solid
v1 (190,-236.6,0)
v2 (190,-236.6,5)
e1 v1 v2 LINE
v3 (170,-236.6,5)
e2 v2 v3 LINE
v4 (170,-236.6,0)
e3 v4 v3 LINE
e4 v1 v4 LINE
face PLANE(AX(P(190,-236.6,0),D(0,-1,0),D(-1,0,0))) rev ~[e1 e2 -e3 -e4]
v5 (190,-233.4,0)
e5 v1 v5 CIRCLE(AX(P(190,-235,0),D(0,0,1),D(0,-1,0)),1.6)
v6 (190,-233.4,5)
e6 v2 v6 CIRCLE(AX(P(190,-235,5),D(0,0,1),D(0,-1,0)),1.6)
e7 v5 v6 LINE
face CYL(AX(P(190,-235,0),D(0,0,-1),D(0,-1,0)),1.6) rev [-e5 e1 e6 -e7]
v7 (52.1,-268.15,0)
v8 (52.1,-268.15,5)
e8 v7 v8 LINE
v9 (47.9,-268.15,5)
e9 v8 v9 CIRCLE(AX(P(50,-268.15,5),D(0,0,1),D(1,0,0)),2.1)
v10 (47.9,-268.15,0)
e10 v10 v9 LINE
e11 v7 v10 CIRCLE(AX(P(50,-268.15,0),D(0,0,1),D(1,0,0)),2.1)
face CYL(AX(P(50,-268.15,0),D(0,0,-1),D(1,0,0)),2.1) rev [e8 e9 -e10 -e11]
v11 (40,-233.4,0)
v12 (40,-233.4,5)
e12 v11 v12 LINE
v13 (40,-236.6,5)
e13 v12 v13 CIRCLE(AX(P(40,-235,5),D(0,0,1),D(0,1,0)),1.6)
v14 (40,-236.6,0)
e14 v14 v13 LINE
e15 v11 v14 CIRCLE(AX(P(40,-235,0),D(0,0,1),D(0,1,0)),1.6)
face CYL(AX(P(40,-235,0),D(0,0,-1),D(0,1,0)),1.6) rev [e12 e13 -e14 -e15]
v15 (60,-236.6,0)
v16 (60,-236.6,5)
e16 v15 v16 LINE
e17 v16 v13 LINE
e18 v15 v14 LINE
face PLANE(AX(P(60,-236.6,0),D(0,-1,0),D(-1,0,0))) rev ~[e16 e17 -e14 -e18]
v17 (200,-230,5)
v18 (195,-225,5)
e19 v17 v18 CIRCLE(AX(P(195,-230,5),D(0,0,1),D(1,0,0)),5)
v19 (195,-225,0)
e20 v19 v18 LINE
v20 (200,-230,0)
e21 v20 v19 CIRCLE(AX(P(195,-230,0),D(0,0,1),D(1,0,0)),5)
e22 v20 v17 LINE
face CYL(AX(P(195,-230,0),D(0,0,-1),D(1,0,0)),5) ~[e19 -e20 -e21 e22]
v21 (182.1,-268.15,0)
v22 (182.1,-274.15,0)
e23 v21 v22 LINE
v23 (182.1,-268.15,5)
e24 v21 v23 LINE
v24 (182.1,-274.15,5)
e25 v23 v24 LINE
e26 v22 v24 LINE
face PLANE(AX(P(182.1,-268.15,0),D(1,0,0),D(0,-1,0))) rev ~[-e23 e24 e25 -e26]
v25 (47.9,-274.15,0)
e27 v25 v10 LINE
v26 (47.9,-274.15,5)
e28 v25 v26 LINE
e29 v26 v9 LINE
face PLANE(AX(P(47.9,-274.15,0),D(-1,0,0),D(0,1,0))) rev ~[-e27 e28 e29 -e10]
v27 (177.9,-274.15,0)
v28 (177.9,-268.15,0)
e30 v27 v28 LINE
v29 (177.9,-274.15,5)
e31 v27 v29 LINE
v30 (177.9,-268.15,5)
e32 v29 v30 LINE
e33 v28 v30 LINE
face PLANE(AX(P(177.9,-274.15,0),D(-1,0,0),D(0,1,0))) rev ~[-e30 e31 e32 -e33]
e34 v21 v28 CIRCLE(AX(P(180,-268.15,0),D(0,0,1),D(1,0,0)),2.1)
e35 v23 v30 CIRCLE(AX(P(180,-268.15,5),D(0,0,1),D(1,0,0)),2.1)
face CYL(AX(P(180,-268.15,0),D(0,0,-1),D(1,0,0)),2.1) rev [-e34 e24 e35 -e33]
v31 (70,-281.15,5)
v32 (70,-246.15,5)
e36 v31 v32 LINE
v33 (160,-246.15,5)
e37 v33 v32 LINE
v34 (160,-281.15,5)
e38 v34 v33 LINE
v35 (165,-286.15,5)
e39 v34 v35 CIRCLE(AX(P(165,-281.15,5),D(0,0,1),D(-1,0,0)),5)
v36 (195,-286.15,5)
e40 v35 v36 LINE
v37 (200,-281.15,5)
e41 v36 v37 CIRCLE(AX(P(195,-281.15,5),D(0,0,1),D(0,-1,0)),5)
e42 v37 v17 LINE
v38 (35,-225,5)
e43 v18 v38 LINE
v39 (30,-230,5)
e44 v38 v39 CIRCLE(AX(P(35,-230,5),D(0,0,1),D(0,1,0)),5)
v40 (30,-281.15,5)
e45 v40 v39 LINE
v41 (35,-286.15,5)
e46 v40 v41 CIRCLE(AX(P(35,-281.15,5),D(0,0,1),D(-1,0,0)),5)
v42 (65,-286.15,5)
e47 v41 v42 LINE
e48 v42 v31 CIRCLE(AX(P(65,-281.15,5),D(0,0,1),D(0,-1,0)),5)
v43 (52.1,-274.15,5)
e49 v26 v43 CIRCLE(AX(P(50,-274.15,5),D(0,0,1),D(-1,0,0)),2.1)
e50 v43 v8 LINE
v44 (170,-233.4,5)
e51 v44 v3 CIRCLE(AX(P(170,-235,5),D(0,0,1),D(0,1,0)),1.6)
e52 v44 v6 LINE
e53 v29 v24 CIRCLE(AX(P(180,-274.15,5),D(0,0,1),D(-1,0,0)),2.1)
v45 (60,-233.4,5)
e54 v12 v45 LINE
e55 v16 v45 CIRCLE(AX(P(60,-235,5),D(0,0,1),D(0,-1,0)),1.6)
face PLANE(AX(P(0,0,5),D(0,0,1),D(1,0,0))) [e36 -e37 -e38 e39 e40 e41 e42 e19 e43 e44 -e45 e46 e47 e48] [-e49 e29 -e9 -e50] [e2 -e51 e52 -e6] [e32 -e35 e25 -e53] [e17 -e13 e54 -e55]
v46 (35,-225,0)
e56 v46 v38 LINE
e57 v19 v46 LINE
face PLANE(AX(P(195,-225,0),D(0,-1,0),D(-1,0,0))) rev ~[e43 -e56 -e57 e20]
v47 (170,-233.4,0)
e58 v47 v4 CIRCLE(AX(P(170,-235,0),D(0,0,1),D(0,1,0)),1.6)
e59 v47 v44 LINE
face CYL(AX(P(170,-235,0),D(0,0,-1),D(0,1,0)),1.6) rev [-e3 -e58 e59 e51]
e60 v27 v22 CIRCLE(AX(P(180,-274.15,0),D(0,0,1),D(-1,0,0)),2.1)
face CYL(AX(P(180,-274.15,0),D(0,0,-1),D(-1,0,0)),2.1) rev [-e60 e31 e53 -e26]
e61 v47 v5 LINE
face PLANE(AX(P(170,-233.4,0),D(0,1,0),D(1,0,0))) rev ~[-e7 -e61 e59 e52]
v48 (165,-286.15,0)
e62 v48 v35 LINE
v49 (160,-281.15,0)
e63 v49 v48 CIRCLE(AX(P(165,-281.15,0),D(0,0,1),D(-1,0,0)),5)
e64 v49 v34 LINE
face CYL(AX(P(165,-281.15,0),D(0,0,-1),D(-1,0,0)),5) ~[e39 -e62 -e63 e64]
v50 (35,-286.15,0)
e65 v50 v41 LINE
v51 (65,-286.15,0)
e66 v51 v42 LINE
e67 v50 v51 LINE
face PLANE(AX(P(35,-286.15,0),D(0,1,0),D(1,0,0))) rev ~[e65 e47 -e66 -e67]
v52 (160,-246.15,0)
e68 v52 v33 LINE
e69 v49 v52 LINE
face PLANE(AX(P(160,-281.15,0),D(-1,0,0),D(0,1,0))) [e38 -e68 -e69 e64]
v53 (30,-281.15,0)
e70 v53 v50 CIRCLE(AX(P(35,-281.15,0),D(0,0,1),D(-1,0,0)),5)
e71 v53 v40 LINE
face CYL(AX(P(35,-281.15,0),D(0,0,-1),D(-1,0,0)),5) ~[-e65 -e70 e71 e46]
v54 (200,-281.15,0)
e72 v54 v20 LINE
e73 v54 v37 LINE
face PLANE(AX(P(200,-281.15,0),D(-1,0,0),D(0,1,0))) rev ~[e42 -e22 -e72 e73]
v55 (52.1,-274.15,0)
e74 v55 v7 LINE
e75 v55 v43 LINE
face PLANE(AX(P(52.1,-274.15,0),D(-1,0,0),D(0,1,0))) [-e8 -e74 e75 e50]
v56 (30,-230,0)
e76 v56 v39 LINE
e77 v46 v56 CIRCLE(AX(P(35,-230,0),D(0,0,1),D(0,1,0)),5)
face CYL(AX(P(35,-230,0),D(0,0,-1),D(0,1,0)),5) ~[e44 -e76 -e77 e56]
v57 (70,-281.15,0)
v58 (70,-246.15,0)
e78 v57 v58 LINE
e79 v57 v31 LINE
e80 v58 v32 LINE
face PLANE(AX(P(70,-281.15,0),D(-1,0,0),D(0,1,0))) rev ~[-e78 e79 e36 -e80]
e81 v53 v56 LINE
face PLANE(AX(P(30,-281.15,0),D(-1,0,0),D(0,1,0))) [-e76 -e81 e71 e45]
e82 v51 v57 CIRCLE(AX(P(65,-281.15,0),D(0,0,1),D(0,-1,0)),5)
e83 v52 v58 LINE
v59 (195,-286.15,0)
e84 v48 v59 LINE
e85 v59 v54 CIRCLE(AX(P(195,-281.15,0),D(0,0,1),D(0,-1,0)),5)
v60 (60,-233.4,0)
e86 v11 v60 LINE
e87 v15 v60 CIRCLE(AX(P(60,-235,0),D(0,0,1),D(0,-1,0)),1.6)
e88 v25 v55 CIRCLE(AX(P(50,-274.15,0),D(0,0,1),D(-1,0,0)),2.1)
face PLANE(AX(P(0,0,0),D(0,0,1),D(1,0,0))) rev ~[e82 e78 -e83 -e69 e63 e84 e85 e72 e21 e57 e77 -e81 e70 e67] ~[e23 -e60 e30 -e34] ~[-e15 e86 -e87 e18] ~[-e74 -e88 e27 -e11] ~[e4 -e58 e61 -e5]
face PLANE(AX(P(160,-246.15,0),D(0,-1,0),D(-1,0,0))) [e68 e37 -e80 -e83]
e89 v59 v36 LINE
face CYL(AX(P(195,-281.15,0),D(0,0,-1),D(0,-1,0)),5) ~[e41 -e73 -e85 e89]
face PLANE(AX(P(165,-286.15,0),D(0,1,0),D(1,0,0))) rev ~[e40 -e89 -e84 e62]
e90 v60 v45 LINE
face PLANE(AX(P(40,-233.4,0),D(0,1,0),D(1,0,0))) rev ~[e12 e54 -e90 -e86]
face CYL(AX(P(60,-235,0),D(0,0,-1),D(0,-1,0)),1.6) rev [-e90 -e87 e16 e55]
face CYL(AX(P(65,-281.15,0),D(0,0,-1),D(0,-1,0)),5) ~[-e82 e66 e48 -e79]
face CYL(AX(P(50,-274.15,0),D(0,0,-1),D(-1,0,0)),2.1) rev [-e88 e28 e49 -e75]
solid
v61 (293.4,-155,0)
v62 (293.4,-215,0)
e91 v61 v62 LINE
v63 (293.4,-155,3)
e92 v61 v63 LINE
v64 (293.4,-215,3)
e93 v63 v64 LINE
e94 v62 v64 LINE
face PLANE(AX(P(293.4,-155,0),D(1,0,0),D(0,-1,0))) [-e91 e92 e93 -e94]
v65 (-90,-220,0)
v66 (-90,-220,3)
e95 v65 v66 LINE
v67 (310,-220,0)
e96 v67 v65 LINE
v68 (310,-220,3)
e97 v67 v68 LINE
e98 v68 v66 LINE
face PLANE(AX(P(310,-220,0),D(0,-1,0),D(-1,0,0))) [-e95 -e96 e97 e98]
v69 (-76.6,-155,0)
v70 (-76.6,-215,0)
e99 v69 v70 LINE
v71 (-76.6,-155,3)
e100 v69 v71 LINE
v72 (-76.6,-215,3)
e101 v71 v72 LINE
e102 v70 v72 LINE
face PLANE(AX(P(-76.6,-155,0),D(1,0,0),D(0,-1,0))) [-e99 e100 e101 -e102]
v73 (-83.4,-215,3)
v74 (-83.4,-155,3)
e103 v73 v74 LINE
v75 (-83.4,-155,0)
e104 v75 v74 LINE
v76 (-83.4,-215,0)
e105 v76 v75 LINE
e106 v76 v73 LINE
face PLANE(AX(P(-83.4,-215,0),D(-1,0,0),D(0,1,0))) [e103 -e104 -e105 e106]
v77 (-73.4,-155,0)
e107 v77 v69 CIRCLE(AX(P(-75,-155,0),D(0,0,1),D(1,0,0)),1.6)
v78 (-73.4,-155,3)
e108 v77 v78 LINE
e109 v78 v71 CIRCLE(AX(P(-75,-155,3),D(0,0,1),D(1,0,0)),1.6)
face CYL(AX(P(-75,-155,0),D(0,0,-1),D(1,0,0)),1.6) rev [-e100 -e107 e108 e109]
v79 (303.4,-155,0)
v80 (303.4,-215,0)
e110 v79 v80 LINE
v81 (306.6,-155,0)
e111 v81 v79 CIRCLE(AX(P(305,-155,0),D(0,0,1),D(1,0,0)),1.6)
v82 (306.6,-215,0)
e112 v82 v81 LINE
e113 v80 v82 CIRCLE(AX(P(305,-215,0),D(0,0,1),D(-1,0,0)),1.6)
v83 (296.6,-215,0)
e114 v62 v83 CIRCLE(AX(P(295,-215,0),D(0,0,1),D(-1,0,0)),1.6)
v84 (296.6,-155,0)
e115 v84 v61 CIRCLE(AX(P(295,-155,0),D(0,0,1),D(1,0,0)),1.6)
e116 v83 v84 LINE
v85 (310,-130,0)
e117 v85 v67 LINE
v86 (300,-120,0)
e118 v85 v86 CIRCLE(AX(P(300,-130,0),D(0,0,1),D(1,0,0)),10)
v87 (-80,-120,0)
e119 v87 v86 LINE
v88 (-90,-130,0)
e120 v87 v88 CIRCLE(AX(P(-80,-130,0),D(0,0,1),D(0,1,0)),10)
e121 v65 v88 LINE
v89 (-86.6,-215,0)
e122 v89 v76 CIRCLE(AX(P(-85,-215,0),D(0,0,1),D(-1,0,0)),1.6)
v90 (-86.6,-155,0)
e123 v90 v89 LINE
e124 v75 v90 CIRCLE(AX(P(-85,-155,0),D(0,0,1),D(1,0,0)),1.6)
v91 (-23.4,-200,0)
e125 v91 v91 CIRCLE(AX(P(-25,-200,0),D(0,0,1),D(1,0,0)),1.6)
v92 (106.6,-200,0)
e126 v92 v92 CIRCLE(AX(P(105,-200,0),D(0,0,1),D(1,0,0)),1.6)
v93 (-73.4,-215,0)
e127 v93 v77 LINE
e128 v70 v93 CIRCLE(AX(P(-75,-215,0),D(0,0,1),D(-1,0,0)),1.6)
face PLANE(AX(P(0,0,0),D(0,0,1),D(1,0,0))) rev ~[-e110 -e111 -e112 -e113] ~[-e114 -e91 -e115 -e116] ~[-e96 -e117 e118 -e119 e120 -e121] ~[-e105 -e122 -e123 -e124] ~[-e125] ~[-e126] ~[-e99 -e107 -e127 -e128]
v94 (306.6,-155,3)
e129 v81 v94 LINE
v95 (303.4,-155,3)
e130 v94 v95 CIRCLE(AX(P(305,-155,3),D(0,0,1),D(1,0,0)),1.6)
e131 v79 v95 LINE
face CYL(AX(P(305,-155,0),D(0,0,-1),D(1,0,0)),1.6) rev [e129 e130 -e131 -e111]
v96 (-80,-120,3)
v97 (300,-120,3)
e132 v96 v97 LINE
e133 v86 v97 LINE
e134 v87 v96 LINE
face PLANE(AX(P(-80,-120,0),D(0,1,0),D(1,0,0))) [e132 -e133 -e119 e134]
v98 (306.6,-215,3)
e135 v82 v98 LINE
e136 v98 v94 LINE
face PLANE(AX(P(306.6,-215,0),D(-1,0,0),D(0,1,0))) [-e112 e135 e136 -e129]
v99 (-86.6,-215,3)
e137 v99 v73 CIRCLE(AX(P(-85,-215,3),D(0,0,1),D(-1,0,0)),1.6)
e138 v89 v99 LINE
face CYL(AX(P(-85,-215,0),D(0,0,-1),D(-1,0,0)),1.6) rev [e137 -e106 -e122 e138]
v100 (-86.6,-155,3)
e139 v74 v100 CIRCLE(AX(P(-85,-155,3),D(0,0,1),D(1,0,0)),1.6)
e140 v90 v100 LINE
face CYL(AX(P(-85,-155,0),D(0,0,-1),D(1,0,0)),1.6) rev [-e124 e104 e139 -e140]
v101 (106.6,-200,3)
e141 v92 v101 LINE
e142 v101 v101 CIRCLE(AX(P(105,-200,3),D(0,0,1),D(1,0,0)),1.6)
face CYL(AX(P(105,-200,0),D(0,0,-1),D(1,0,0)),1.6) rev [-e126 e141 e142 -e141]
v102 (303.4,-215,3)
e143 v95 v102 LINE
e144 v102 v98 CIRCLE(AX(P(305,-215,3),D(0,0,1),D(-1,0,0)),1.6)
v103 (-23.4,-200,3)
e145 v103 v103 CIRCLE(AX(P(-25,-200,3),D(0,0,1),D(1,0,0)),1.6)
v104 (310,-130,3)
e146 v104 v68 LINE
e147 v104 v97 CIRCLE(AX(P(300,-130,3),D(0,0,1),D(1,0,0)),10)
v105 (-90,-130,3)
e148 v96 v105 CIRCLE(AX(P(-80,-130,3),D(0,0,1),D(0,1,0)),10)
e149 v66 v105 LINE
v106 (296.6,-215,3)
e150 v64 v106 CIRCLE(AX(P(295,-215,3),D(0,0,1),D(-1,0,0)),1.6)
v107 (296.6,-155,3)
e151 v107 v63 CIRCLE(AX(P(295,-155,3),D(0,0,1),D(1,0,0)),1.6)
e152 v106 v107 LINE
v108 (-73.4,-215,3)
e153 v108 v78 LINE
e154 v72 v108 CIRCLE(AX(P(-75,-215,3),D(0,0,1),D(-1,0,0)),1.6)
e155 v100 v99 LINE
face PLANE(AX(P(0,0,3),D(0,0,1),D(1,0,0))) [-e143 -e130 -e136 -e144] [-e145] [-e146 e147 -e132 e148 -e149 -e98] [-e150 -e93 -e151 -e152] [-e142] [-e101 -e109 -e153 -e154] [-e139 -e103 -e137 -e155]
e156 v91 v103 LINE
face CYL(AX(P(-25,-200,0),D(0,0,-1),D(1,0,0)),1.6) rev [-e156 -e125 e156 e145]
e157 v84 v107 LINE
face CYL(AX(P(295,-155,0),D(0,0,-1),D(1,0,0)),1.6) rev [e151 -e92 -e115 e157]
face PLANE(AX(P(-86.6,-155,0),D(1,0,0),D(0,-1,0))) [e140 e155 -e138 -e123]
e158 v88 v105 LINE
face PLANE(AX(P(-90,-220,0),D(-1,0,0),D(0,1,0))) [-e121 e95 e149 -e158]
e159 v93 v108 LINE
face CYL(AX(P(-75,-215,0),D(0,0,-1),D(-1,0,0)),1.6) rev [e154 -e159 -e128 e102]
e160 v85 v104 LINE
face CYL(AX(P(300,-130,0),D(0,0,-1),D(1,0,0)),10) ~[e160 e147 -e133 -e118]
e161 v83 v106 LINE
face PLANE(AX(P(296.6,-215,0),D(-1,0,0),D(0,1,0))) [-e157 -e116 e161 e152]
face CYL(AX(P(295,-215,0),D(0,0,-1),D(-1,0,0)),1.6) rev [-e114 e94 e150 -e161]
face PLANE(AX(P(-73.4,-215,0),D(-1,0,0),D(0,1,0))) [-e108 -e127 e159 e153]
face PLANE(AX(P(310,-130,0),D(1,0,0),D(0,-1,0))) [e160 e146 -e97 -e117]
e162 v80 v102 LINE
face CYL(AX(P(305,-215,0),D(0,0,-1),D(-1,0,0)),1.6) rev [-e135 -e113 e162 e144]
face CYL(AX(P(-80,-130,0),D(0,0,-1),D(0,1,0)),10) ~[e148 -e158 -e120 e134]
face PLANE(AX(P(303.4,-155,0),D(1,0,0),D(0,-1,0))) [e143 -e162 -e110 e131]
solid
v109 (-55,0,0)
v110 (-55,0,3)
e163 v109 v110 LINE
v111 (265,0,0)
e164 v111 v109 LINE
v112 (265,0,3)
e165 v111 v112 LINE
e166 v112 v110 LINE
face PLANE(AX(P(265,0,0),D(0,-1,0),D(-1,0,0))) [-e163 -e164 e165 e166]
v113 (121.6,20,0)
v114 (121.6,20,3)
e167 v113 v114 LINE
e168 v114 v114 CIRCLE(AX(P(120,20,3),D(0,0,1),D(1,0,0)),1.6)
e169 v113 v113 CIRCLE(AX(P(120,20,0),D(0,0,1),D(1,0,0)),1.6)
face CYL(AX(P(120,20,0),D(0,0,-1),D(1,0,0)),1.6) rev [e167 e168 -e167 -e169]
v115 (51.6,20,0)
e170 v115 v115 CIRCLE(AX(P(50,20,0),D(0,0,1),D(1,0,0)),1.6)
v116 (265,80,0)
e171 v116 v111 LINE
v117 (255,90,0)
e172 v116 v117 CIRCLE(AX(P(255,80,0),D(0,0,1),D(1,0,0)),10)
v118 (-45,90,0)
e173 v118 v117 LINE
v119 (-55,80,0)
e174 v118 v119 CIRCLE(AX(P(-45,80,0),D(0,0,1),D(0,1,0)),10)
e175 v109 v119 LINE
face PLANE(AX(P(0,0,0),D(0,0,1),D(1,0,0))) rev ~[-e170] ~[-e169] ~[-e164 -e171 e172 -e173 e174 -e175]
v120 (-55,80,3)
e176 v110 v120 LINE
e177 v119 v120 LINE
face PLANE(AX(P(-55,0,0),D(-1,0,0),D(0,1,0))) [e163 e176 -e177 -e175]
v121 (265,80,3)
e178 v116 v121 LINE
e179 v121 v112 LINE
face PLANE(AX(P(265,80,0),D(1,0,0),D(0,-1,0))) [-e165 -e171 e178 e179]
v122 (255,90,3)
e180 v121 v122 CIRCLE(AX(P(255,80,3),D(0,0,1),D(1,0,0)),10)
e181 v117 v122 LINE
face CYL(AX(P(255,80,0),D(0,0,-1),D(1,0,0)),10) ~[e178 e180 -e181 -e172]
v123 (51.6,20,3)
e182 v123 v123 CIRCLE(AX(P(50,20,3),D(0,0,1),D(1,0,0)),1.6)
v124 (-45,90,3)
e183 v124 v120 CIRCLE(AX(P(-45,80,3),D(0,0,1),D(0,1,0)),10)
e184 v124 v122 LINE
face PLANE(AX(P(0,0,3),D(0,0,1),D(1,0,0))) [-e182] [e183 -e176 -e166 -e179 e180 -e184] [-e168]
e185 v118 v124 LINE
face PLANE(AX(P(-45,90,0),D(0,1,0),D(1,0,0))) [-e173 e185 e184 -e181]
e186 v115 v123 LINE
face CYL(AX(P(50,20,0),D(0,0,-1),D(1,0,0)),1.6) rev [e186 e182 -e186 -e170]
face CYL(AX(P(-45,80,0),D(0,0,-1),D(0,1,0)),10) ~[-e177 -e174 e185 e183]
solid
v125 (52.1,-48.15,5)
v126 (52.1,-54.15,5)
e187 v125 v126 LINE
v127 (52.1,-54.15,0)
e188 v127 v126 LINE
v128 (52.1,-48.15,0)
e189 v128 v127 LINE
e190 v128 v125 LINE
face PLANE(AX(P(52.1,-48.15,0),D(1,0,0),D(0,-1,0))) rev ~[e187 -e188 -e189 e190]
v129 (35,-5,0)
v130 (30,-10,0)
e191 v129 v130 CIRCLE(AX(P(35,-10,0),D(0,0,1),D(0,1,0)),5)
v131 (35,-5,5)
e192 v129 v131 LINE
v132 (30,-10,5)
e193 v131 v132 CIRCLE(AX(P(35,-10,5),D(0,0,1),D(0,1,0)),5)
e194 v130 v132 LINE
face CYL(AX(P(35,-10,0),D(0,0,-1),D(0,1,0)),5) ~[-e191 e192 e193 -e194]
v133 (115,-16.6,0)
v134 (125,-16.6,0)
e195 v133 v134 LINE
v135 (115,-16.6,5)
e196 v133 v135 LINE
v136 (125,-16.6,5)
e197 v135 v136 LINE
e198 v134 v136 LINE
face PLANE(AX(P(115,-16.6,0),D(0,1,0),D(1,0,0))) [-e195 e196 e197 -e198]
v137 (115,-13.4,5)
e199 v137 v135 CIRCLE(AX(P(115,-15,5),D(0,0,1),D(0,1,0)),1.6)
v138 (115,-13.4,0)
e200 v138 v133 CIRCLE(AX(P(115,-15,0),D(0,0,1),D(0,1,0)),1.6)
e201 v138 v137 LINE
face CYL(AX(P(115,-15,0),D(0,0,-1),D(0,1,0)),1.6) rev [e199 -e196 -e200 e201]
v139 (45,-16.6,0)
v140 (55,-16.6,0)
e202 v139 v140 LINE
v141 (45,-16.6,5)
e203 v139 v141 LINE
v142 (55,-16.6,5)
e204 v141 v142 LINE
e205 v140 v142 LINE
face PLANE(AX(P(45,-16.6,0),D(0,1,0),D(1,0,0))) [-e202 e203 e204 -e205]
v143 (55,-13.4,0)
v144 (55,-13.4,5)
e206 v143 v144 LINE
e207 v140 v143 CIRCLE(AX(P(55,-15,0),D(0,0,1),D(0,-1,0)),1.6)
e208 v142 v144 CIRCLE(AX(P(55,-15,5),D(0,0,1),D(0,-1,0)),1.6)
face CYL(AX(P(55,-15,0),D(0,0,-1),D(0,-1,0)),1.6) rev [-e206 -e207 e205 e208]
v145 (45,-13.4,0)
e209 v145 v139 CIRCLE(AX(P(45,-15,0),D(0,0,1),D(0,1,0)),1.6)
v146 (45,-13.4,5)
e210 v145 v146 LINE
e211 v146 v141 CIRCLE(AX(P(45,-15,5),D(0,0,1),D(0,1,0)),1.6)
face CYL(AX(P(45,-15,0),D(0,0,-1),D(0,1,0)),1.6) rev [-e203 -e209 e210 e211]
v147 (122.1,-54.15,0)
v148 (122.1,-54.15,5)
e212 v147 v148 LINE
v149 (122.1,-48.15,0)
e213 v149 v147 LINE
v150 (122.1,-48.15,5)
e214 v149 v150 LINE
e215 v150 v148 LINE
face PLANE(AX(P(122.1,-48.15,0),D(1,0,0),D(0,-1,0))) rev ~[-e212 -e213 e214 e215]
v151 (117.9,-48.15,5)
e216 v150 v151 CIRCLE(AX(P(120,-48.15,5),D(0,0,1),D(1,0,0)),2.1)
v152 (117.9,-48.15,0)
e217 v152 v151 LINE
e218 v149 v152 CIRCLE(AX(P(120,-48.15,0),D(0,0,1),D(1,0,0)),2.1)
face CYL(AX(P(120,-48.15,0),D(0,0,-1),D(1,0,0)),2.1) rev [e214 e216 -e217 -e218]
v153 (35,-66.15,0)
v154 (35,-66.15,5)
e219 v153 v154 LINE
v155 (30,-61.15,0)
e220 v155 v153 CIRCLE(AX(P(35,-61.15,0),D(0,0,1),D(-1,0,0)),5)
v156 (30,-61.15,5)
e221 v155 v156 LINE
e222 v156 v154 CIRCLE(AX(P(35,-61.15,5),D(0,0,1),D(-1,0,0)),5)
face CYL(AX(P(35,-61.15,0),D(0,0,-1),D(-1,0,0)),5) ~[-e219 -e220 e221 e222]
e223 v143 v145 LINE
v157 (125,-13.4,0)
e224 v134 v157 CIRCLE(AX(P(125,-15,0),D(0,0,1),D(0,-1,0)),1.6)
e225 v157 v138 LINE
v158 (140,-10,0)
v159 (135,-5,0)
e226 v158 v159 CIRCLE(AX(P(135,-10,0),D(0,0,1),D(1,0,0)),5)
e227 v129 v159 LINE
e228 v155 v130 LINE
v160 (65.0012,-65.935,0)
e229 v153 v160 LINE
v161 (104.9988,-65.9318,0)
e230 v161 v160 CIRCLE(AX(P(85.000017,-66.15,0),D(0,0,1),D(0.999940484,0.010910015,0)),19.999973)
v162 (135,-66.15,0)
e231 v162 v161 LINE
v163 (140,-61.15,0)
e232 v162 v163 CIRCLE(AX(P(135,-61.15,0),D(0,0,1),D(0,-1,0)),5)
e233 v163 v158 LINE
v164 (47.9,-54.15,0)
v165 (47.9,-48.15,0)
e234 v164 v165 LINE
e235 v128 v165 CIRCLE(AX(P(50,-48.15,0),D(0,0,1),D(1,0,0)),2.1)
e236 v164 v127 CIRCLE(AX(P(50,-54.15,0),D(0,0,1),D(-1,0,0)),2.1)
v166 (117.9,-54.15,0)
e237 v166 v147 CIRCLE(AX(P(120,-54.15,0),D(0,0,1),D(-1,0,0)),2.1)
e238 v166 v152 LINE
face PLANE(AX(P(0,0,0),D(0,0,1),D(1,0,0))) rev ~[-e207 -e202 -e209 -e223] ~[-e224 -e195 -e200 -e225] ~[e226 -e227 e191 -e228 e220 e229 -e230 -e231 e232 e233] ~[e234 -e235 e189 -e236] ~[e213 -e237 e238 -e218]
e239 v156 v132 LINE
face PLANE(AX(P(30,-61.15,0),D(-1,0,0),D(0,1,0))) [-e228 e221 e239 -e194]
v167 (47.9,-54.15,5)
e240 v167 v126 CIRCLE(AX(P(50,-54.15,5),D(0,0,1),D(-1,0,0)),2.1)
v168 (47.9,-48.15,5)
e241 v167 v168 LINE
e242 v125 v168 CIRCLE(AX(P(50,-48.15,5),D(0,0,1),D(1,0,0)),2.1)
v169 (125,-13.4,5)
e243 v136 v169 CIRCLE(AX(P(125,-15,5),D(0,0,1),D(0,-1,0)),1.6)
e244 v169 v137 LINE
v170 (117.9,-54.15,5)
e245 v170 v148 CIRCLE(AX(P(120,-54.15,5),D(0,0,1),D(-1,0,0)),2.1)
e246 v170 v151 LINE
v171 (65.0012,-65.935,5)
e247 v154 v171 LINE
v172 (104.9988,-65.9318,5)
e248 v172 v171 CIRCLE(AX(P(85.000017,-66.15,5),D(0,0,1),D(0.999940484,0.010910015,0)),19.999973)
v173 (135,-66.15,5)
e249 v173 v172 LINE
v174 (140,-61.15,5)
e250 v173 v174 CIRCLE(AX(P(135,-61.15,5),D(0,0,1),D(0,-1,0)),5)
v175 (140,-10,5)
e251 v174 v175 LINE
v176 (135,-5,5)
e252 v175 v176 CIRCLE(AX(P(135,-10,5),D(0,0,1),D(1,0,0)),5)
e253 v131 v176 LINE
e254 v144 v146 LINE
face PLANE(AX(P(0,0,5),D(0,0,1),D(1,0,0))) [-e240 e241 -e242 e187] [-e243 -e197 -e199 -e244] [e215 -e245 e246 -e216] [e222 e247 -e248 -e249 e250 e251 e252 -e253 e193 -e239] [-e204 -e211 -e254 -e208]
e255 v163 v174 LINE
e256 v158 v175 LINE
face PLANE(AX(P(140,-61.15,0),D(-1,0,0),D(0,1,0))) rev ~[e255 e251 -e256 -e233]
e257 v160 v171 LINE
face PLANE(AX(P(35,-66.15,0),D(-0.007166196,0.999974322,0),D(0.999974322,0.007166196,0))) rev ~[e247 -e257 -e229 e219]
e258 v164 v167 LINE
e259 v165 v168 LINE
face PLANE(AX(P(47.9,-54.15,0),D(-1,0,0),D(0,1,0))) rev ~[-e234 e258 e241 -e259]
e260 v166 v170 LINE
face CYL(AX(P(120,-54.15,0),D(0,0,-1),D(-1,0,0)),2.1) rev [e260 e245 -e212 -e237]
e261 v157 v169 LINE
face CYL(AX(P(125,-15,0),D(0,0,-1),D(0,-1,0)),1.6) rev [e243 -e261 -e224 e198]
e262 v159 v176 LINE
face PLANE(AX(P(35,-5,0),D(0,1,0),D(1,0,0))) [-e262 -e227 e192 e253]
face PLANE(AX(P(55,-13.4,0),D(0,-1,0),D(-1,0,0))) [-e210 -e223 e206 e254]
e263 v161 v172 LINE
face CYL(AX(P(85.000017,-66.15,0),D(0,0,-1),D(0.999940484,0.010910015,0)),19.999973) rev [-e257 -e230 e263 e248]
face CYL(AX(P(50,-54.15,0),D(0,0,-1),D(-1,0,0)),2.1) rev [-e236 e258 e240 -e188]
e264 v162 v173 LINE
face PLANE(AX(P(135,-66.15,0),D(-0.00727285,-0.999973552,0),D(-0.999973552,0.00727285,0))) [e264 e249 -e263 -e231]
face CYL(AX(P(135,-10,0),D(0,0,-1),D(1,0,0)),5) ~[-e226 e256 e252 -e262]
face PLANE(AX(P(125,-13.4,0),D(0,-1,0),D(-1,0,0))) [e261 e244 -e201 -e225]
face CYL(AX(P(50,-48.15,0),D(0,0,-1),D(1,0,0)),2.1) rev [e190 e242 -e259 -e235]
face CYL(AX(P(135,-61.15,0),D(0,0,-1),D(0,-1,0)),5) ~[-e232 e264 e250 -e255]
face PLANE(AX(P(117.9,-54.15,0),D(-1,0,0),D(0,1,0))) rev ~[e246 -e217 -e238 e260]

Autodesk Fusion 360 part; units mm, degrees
sketch "Sketch3" plane through (0, 0, 0) normal (0, 0, 1) x (1, 0, 0) in component "Short wall"
  line L0 (125, -13.4) -> (115, -13.4)
  line L1 (115, -16.6) -> (125, -16.6)
  arc A0 (125, -16.6) -> (125, -13.4) centre (125, -15) ccw
  arc A1 (115, -13.4) -> (115, -16.6) centre (115, -15) ccw
  line L2 (55, -13.4) -> (45, -13.4)
  arc A2 (45, -13.4) -> (45, -16.6) centre (45, -15) ccw
  line L3 (45, -16.6) -> (55, -16.6)
  arc A3 (55, -16.6) -> (55, -13.4) centre (55, -15) ccw
  line L4 (52.1, -48.15) -> (52.1, -54.15)
  line L5 (47.9, -54.15) -> (47.9, -48.15)
  arc A4 (52.1, -48.15) -> (47.9, -48.15) centre (50, -48.15) ccw
  arc A5 (47.9, -54.15) -> (52.1, -54.15) centre (50, -54.15) ccw
  arc A6 (122.1, -48.15) -> (117.9, -48.15) centre (120, -48.15) ccw
  line L6 (122.1, -48.15) -> (122.1, -54.15)
  arc A7 (117.9, -54.15) -> (122.1, -54.15) centre (120, -54.15) ccw
  line L7 (117.9, -54.15) -> (117.9, -48.15)
  arc A8 (104.9988, -65.9318) -> (65.0012, -65.935) centre (85, -66.15) ccw
  arc A9 (140, -10) -> (135, -5) centre (135, -10) ccw
  arc A10 (135, -66.15) -> (140, -61.15) centre (135, -61.15) ccw
  arc A11 (30, -61.15) -> (35, -66.15) centre (35, -61.15) ccw
  arc A12 (35, -5) -> (30, -10) centre (35, -10) ccw
  line L8 (30, -61.15) -> (30, -10)
  line L9 (35, -66.15) -> (65.0012, -65.935)
  line L10 (35, -5) -> (135, -5)
  line L11 (140, -61.15) -> (140, -10)
  line L12 (135, -66.15) -> (104.9988, -65.9318)
  dimension "d9" = 10
  dimension "d10" = 3.2
  dimension "d11" = 10
  dimension "d12" = 3.2
  dimension "d21" = 20
sketch "Sketch1" plane through (0, 0, 0) normal (0, 0, 1) x (1, 0, 0) in component "Short wall"
  circle A0 centre (50, 20) radius 1.6
  circle A1 centre (120, 20) radius 1.6
  line L0 (265, 0) -> (-55, 0)
  line L1 (-55, 0) -> (-55, 80)
  line L2 (-45, 90) -> (255, 90)
  line L3 (265, 80) -> (265, 0)
  arc A2 (-45, 90) -> (-55, 80) centre (-45, 80) ccw
  arc A3 (265, 80) -> (255, 90) centre (255, 80) ccw
  dimension "d3" = 3.2
  dimension "d4" = 3.2
  dimension "d69" = 320
  dimension "d70" = 10
  dimension "d71" = 10
sketch "Sketch4" plane through (0, 0, 0) normal (0, 0, 1) x (1, 0, 0) in component "Long wall"
  arc A0 (190, -236.6) -> (190, -233.4) centre (190, -235) ccw
  line L0 (177.9, -274.15) -> (177.9, -268.15)
  arc A1 (170, -233.4) -> (170, -236.6) centre (170, -235) ccw
  arc A2 (182.1, -268.15) -> (177.9, -268.15) centre (180, -268.15) ccw
  arc A3 (60, -236.6) -> (60, -233.4) centre (60, -235) ccw
  arc A4 (40, -233.4) -> (40, -236.6) centre (40, -235) ccw
  arc A5 (177.9, -274.15) -> (182.1, -274.15) centre (180, -274.15) ccw
  arc A6 (52.1, -268.15) -> (47.9, -268.15) centre (50, -268.15) ccw
  line L1 (47.9, -274.15) -> (47.9, -268.15)
  arc A7 (47.9, -274.15) -> (52.1, -274.15) centre (50, -274.15) ccw
  line L2 (160, -246.15) -> (70, -246.15)
  line L3 (170, -233.4) -> (190, -233.4)
  line L4 (190, -236.6) -> (170, -236.6)
  line L5 (40, -233.4) -> (60, -233.4)
  line L6 (60, -236.6) -> (40, -236.6)
  arc A8 (200, -230) -> (195, -225) centre (195, -230) ccw
  arc A9 (195, -286.15) -> (200, -281.15) centre (195, -281.15) ccw
  arc A10 (160, -281.15) -> (165, -286.15) centre (165, -281.15) ccw
  arc A11 (65, -286.15) -> (70, -281.15) centre (65, -281.15) ccw
  arc A12 (30, -281.15) -> (35, -286.15) centre (35, -281.15) ccw
  arc A13 (35, -225) -> (30, -230) centre (35, -230) ccw
  line L7 (30, -281.15) -> (30, -230)
  line L8 (35, -286.15) -> (65, -286.15)
  line L9 (70, -281.15) -> (70, -246.15)
  line L10 (160, -281.15) -> (160, -246.15)
  line L11 (165, -286.15) -> (195, -286.15)
  line L12 (200, -281.15) -> (200, -230)
  line L13 (195, -225) -> (35, -225)
  line L14 (182.1, -268.15) -> (182.1, -274.15)
  line L15 (52.1, -274.15) -> (52.1, -268.15)
  dimension "d23" = 3.2
  dimension "d25" = 3.2
sketch "Sketch2" plane through (0, 0, 0) normal (0, 0, 1) x (1, 0, 0) in component "Long wall"
  circle A0 centre (105, -200) radius 1.6
  circle A1 centre (-25, -200) radius 1.6
  line L0 (310, -220) -> (-90, -220)
  line L1 (-90, -220) -> (-90, -130)
  line L2 (-80, -120) -> (300, -120)
  line L3 (310, -130) -> (310, -220)
  arc A2 (310, -130) -> (300, -120) centre (300, -130) ccw
  arc A3 (-80, -120) -> (-90, -130) centre (-80, -130) ccw
  line L4 (303.4, -155) -> (303.4, -215)
  arc A4 (303.4, -215) -> (306.6, -215) centre (305, -215) ccw
  line L5 (306.6, -215) -> (306.6, -155)
  arc A5 (306.6, -155) -> (303.4, -155) centre (305, -155) ccw
  line L6 (305, -155) -> (305, -215) construction
  line L7 (293.4, -155) -> (293.4, -215)
  arc A6 (293.4, -215) -> (296.6, -215) centre (295, -215) ccw
  line L8 (296.6, -215) -> (296.6, -155)
  arc A7 (296.6, -155) -> (293.4, -155) centre (295, -155) ccw
  line L9 (295, -155) -> (295, -215) construction
  line L10 (-76.6, -155) -> (-76.6, -215)
  arc A8 (-76.6, -215) -> (-73.4, -215) centre (-75, -215) ccw
  line L11 (-73.4, -215) -> (-73.4, -155)
  arc A9 (-73.4, -155) -> (-76.6, -155) centre (-75, -155) ccw
  line L12 (-75, -155) -> (-75, -215) construction
  line L13 (-86.6, -155) -> (-86.6, -215)
  arc A10 (-86.6, -215) -> (-83.4, -215) centre (-85, -215) ccw
  line L14 (-83.4, -215) -> (-83.4, -155)
  arc A11 (-83.4, -155) -> (-86.6, -155) centre (-85, -155) ccw
  line L15 (-85, -155) -> (-85, -215) construction
  point P0 (305, -185)
  point P1 (295, -185)
  point P2 (-75, -185)
  point P3 (-85, -185)
  dimension "d7" = 3.2
  dimension "d8" = 3.2
  dimension "d65" = 10
  dimension "d66" = 10
extrude "Extrude1" add sketch "Sketch2" along normal blind 3 makes body 1 in component "Long wall"
extrude "Extrude2" add sketch "Sketch4" along normal blind 5 separate body makes body 2 in component "Long wall"
extrude "Extrude1'" add sketch "Sketch1" along normal blind 3 separate body makes body 3 in component "Short wall"
extrude "Extrude2'" add sketch "Sketch3" along normal blind 5 separate body makes body 4 in component "Short wall"
component "Short wall" placed x (1, 0, 0) y (0, 1, 0) z (0, 0, 1) at (0, 0, 0)
component "Long wall" placed x (1, 0, 0) y (0, 1, 0) z (0, 0, 1) at (0, 0, 0)
